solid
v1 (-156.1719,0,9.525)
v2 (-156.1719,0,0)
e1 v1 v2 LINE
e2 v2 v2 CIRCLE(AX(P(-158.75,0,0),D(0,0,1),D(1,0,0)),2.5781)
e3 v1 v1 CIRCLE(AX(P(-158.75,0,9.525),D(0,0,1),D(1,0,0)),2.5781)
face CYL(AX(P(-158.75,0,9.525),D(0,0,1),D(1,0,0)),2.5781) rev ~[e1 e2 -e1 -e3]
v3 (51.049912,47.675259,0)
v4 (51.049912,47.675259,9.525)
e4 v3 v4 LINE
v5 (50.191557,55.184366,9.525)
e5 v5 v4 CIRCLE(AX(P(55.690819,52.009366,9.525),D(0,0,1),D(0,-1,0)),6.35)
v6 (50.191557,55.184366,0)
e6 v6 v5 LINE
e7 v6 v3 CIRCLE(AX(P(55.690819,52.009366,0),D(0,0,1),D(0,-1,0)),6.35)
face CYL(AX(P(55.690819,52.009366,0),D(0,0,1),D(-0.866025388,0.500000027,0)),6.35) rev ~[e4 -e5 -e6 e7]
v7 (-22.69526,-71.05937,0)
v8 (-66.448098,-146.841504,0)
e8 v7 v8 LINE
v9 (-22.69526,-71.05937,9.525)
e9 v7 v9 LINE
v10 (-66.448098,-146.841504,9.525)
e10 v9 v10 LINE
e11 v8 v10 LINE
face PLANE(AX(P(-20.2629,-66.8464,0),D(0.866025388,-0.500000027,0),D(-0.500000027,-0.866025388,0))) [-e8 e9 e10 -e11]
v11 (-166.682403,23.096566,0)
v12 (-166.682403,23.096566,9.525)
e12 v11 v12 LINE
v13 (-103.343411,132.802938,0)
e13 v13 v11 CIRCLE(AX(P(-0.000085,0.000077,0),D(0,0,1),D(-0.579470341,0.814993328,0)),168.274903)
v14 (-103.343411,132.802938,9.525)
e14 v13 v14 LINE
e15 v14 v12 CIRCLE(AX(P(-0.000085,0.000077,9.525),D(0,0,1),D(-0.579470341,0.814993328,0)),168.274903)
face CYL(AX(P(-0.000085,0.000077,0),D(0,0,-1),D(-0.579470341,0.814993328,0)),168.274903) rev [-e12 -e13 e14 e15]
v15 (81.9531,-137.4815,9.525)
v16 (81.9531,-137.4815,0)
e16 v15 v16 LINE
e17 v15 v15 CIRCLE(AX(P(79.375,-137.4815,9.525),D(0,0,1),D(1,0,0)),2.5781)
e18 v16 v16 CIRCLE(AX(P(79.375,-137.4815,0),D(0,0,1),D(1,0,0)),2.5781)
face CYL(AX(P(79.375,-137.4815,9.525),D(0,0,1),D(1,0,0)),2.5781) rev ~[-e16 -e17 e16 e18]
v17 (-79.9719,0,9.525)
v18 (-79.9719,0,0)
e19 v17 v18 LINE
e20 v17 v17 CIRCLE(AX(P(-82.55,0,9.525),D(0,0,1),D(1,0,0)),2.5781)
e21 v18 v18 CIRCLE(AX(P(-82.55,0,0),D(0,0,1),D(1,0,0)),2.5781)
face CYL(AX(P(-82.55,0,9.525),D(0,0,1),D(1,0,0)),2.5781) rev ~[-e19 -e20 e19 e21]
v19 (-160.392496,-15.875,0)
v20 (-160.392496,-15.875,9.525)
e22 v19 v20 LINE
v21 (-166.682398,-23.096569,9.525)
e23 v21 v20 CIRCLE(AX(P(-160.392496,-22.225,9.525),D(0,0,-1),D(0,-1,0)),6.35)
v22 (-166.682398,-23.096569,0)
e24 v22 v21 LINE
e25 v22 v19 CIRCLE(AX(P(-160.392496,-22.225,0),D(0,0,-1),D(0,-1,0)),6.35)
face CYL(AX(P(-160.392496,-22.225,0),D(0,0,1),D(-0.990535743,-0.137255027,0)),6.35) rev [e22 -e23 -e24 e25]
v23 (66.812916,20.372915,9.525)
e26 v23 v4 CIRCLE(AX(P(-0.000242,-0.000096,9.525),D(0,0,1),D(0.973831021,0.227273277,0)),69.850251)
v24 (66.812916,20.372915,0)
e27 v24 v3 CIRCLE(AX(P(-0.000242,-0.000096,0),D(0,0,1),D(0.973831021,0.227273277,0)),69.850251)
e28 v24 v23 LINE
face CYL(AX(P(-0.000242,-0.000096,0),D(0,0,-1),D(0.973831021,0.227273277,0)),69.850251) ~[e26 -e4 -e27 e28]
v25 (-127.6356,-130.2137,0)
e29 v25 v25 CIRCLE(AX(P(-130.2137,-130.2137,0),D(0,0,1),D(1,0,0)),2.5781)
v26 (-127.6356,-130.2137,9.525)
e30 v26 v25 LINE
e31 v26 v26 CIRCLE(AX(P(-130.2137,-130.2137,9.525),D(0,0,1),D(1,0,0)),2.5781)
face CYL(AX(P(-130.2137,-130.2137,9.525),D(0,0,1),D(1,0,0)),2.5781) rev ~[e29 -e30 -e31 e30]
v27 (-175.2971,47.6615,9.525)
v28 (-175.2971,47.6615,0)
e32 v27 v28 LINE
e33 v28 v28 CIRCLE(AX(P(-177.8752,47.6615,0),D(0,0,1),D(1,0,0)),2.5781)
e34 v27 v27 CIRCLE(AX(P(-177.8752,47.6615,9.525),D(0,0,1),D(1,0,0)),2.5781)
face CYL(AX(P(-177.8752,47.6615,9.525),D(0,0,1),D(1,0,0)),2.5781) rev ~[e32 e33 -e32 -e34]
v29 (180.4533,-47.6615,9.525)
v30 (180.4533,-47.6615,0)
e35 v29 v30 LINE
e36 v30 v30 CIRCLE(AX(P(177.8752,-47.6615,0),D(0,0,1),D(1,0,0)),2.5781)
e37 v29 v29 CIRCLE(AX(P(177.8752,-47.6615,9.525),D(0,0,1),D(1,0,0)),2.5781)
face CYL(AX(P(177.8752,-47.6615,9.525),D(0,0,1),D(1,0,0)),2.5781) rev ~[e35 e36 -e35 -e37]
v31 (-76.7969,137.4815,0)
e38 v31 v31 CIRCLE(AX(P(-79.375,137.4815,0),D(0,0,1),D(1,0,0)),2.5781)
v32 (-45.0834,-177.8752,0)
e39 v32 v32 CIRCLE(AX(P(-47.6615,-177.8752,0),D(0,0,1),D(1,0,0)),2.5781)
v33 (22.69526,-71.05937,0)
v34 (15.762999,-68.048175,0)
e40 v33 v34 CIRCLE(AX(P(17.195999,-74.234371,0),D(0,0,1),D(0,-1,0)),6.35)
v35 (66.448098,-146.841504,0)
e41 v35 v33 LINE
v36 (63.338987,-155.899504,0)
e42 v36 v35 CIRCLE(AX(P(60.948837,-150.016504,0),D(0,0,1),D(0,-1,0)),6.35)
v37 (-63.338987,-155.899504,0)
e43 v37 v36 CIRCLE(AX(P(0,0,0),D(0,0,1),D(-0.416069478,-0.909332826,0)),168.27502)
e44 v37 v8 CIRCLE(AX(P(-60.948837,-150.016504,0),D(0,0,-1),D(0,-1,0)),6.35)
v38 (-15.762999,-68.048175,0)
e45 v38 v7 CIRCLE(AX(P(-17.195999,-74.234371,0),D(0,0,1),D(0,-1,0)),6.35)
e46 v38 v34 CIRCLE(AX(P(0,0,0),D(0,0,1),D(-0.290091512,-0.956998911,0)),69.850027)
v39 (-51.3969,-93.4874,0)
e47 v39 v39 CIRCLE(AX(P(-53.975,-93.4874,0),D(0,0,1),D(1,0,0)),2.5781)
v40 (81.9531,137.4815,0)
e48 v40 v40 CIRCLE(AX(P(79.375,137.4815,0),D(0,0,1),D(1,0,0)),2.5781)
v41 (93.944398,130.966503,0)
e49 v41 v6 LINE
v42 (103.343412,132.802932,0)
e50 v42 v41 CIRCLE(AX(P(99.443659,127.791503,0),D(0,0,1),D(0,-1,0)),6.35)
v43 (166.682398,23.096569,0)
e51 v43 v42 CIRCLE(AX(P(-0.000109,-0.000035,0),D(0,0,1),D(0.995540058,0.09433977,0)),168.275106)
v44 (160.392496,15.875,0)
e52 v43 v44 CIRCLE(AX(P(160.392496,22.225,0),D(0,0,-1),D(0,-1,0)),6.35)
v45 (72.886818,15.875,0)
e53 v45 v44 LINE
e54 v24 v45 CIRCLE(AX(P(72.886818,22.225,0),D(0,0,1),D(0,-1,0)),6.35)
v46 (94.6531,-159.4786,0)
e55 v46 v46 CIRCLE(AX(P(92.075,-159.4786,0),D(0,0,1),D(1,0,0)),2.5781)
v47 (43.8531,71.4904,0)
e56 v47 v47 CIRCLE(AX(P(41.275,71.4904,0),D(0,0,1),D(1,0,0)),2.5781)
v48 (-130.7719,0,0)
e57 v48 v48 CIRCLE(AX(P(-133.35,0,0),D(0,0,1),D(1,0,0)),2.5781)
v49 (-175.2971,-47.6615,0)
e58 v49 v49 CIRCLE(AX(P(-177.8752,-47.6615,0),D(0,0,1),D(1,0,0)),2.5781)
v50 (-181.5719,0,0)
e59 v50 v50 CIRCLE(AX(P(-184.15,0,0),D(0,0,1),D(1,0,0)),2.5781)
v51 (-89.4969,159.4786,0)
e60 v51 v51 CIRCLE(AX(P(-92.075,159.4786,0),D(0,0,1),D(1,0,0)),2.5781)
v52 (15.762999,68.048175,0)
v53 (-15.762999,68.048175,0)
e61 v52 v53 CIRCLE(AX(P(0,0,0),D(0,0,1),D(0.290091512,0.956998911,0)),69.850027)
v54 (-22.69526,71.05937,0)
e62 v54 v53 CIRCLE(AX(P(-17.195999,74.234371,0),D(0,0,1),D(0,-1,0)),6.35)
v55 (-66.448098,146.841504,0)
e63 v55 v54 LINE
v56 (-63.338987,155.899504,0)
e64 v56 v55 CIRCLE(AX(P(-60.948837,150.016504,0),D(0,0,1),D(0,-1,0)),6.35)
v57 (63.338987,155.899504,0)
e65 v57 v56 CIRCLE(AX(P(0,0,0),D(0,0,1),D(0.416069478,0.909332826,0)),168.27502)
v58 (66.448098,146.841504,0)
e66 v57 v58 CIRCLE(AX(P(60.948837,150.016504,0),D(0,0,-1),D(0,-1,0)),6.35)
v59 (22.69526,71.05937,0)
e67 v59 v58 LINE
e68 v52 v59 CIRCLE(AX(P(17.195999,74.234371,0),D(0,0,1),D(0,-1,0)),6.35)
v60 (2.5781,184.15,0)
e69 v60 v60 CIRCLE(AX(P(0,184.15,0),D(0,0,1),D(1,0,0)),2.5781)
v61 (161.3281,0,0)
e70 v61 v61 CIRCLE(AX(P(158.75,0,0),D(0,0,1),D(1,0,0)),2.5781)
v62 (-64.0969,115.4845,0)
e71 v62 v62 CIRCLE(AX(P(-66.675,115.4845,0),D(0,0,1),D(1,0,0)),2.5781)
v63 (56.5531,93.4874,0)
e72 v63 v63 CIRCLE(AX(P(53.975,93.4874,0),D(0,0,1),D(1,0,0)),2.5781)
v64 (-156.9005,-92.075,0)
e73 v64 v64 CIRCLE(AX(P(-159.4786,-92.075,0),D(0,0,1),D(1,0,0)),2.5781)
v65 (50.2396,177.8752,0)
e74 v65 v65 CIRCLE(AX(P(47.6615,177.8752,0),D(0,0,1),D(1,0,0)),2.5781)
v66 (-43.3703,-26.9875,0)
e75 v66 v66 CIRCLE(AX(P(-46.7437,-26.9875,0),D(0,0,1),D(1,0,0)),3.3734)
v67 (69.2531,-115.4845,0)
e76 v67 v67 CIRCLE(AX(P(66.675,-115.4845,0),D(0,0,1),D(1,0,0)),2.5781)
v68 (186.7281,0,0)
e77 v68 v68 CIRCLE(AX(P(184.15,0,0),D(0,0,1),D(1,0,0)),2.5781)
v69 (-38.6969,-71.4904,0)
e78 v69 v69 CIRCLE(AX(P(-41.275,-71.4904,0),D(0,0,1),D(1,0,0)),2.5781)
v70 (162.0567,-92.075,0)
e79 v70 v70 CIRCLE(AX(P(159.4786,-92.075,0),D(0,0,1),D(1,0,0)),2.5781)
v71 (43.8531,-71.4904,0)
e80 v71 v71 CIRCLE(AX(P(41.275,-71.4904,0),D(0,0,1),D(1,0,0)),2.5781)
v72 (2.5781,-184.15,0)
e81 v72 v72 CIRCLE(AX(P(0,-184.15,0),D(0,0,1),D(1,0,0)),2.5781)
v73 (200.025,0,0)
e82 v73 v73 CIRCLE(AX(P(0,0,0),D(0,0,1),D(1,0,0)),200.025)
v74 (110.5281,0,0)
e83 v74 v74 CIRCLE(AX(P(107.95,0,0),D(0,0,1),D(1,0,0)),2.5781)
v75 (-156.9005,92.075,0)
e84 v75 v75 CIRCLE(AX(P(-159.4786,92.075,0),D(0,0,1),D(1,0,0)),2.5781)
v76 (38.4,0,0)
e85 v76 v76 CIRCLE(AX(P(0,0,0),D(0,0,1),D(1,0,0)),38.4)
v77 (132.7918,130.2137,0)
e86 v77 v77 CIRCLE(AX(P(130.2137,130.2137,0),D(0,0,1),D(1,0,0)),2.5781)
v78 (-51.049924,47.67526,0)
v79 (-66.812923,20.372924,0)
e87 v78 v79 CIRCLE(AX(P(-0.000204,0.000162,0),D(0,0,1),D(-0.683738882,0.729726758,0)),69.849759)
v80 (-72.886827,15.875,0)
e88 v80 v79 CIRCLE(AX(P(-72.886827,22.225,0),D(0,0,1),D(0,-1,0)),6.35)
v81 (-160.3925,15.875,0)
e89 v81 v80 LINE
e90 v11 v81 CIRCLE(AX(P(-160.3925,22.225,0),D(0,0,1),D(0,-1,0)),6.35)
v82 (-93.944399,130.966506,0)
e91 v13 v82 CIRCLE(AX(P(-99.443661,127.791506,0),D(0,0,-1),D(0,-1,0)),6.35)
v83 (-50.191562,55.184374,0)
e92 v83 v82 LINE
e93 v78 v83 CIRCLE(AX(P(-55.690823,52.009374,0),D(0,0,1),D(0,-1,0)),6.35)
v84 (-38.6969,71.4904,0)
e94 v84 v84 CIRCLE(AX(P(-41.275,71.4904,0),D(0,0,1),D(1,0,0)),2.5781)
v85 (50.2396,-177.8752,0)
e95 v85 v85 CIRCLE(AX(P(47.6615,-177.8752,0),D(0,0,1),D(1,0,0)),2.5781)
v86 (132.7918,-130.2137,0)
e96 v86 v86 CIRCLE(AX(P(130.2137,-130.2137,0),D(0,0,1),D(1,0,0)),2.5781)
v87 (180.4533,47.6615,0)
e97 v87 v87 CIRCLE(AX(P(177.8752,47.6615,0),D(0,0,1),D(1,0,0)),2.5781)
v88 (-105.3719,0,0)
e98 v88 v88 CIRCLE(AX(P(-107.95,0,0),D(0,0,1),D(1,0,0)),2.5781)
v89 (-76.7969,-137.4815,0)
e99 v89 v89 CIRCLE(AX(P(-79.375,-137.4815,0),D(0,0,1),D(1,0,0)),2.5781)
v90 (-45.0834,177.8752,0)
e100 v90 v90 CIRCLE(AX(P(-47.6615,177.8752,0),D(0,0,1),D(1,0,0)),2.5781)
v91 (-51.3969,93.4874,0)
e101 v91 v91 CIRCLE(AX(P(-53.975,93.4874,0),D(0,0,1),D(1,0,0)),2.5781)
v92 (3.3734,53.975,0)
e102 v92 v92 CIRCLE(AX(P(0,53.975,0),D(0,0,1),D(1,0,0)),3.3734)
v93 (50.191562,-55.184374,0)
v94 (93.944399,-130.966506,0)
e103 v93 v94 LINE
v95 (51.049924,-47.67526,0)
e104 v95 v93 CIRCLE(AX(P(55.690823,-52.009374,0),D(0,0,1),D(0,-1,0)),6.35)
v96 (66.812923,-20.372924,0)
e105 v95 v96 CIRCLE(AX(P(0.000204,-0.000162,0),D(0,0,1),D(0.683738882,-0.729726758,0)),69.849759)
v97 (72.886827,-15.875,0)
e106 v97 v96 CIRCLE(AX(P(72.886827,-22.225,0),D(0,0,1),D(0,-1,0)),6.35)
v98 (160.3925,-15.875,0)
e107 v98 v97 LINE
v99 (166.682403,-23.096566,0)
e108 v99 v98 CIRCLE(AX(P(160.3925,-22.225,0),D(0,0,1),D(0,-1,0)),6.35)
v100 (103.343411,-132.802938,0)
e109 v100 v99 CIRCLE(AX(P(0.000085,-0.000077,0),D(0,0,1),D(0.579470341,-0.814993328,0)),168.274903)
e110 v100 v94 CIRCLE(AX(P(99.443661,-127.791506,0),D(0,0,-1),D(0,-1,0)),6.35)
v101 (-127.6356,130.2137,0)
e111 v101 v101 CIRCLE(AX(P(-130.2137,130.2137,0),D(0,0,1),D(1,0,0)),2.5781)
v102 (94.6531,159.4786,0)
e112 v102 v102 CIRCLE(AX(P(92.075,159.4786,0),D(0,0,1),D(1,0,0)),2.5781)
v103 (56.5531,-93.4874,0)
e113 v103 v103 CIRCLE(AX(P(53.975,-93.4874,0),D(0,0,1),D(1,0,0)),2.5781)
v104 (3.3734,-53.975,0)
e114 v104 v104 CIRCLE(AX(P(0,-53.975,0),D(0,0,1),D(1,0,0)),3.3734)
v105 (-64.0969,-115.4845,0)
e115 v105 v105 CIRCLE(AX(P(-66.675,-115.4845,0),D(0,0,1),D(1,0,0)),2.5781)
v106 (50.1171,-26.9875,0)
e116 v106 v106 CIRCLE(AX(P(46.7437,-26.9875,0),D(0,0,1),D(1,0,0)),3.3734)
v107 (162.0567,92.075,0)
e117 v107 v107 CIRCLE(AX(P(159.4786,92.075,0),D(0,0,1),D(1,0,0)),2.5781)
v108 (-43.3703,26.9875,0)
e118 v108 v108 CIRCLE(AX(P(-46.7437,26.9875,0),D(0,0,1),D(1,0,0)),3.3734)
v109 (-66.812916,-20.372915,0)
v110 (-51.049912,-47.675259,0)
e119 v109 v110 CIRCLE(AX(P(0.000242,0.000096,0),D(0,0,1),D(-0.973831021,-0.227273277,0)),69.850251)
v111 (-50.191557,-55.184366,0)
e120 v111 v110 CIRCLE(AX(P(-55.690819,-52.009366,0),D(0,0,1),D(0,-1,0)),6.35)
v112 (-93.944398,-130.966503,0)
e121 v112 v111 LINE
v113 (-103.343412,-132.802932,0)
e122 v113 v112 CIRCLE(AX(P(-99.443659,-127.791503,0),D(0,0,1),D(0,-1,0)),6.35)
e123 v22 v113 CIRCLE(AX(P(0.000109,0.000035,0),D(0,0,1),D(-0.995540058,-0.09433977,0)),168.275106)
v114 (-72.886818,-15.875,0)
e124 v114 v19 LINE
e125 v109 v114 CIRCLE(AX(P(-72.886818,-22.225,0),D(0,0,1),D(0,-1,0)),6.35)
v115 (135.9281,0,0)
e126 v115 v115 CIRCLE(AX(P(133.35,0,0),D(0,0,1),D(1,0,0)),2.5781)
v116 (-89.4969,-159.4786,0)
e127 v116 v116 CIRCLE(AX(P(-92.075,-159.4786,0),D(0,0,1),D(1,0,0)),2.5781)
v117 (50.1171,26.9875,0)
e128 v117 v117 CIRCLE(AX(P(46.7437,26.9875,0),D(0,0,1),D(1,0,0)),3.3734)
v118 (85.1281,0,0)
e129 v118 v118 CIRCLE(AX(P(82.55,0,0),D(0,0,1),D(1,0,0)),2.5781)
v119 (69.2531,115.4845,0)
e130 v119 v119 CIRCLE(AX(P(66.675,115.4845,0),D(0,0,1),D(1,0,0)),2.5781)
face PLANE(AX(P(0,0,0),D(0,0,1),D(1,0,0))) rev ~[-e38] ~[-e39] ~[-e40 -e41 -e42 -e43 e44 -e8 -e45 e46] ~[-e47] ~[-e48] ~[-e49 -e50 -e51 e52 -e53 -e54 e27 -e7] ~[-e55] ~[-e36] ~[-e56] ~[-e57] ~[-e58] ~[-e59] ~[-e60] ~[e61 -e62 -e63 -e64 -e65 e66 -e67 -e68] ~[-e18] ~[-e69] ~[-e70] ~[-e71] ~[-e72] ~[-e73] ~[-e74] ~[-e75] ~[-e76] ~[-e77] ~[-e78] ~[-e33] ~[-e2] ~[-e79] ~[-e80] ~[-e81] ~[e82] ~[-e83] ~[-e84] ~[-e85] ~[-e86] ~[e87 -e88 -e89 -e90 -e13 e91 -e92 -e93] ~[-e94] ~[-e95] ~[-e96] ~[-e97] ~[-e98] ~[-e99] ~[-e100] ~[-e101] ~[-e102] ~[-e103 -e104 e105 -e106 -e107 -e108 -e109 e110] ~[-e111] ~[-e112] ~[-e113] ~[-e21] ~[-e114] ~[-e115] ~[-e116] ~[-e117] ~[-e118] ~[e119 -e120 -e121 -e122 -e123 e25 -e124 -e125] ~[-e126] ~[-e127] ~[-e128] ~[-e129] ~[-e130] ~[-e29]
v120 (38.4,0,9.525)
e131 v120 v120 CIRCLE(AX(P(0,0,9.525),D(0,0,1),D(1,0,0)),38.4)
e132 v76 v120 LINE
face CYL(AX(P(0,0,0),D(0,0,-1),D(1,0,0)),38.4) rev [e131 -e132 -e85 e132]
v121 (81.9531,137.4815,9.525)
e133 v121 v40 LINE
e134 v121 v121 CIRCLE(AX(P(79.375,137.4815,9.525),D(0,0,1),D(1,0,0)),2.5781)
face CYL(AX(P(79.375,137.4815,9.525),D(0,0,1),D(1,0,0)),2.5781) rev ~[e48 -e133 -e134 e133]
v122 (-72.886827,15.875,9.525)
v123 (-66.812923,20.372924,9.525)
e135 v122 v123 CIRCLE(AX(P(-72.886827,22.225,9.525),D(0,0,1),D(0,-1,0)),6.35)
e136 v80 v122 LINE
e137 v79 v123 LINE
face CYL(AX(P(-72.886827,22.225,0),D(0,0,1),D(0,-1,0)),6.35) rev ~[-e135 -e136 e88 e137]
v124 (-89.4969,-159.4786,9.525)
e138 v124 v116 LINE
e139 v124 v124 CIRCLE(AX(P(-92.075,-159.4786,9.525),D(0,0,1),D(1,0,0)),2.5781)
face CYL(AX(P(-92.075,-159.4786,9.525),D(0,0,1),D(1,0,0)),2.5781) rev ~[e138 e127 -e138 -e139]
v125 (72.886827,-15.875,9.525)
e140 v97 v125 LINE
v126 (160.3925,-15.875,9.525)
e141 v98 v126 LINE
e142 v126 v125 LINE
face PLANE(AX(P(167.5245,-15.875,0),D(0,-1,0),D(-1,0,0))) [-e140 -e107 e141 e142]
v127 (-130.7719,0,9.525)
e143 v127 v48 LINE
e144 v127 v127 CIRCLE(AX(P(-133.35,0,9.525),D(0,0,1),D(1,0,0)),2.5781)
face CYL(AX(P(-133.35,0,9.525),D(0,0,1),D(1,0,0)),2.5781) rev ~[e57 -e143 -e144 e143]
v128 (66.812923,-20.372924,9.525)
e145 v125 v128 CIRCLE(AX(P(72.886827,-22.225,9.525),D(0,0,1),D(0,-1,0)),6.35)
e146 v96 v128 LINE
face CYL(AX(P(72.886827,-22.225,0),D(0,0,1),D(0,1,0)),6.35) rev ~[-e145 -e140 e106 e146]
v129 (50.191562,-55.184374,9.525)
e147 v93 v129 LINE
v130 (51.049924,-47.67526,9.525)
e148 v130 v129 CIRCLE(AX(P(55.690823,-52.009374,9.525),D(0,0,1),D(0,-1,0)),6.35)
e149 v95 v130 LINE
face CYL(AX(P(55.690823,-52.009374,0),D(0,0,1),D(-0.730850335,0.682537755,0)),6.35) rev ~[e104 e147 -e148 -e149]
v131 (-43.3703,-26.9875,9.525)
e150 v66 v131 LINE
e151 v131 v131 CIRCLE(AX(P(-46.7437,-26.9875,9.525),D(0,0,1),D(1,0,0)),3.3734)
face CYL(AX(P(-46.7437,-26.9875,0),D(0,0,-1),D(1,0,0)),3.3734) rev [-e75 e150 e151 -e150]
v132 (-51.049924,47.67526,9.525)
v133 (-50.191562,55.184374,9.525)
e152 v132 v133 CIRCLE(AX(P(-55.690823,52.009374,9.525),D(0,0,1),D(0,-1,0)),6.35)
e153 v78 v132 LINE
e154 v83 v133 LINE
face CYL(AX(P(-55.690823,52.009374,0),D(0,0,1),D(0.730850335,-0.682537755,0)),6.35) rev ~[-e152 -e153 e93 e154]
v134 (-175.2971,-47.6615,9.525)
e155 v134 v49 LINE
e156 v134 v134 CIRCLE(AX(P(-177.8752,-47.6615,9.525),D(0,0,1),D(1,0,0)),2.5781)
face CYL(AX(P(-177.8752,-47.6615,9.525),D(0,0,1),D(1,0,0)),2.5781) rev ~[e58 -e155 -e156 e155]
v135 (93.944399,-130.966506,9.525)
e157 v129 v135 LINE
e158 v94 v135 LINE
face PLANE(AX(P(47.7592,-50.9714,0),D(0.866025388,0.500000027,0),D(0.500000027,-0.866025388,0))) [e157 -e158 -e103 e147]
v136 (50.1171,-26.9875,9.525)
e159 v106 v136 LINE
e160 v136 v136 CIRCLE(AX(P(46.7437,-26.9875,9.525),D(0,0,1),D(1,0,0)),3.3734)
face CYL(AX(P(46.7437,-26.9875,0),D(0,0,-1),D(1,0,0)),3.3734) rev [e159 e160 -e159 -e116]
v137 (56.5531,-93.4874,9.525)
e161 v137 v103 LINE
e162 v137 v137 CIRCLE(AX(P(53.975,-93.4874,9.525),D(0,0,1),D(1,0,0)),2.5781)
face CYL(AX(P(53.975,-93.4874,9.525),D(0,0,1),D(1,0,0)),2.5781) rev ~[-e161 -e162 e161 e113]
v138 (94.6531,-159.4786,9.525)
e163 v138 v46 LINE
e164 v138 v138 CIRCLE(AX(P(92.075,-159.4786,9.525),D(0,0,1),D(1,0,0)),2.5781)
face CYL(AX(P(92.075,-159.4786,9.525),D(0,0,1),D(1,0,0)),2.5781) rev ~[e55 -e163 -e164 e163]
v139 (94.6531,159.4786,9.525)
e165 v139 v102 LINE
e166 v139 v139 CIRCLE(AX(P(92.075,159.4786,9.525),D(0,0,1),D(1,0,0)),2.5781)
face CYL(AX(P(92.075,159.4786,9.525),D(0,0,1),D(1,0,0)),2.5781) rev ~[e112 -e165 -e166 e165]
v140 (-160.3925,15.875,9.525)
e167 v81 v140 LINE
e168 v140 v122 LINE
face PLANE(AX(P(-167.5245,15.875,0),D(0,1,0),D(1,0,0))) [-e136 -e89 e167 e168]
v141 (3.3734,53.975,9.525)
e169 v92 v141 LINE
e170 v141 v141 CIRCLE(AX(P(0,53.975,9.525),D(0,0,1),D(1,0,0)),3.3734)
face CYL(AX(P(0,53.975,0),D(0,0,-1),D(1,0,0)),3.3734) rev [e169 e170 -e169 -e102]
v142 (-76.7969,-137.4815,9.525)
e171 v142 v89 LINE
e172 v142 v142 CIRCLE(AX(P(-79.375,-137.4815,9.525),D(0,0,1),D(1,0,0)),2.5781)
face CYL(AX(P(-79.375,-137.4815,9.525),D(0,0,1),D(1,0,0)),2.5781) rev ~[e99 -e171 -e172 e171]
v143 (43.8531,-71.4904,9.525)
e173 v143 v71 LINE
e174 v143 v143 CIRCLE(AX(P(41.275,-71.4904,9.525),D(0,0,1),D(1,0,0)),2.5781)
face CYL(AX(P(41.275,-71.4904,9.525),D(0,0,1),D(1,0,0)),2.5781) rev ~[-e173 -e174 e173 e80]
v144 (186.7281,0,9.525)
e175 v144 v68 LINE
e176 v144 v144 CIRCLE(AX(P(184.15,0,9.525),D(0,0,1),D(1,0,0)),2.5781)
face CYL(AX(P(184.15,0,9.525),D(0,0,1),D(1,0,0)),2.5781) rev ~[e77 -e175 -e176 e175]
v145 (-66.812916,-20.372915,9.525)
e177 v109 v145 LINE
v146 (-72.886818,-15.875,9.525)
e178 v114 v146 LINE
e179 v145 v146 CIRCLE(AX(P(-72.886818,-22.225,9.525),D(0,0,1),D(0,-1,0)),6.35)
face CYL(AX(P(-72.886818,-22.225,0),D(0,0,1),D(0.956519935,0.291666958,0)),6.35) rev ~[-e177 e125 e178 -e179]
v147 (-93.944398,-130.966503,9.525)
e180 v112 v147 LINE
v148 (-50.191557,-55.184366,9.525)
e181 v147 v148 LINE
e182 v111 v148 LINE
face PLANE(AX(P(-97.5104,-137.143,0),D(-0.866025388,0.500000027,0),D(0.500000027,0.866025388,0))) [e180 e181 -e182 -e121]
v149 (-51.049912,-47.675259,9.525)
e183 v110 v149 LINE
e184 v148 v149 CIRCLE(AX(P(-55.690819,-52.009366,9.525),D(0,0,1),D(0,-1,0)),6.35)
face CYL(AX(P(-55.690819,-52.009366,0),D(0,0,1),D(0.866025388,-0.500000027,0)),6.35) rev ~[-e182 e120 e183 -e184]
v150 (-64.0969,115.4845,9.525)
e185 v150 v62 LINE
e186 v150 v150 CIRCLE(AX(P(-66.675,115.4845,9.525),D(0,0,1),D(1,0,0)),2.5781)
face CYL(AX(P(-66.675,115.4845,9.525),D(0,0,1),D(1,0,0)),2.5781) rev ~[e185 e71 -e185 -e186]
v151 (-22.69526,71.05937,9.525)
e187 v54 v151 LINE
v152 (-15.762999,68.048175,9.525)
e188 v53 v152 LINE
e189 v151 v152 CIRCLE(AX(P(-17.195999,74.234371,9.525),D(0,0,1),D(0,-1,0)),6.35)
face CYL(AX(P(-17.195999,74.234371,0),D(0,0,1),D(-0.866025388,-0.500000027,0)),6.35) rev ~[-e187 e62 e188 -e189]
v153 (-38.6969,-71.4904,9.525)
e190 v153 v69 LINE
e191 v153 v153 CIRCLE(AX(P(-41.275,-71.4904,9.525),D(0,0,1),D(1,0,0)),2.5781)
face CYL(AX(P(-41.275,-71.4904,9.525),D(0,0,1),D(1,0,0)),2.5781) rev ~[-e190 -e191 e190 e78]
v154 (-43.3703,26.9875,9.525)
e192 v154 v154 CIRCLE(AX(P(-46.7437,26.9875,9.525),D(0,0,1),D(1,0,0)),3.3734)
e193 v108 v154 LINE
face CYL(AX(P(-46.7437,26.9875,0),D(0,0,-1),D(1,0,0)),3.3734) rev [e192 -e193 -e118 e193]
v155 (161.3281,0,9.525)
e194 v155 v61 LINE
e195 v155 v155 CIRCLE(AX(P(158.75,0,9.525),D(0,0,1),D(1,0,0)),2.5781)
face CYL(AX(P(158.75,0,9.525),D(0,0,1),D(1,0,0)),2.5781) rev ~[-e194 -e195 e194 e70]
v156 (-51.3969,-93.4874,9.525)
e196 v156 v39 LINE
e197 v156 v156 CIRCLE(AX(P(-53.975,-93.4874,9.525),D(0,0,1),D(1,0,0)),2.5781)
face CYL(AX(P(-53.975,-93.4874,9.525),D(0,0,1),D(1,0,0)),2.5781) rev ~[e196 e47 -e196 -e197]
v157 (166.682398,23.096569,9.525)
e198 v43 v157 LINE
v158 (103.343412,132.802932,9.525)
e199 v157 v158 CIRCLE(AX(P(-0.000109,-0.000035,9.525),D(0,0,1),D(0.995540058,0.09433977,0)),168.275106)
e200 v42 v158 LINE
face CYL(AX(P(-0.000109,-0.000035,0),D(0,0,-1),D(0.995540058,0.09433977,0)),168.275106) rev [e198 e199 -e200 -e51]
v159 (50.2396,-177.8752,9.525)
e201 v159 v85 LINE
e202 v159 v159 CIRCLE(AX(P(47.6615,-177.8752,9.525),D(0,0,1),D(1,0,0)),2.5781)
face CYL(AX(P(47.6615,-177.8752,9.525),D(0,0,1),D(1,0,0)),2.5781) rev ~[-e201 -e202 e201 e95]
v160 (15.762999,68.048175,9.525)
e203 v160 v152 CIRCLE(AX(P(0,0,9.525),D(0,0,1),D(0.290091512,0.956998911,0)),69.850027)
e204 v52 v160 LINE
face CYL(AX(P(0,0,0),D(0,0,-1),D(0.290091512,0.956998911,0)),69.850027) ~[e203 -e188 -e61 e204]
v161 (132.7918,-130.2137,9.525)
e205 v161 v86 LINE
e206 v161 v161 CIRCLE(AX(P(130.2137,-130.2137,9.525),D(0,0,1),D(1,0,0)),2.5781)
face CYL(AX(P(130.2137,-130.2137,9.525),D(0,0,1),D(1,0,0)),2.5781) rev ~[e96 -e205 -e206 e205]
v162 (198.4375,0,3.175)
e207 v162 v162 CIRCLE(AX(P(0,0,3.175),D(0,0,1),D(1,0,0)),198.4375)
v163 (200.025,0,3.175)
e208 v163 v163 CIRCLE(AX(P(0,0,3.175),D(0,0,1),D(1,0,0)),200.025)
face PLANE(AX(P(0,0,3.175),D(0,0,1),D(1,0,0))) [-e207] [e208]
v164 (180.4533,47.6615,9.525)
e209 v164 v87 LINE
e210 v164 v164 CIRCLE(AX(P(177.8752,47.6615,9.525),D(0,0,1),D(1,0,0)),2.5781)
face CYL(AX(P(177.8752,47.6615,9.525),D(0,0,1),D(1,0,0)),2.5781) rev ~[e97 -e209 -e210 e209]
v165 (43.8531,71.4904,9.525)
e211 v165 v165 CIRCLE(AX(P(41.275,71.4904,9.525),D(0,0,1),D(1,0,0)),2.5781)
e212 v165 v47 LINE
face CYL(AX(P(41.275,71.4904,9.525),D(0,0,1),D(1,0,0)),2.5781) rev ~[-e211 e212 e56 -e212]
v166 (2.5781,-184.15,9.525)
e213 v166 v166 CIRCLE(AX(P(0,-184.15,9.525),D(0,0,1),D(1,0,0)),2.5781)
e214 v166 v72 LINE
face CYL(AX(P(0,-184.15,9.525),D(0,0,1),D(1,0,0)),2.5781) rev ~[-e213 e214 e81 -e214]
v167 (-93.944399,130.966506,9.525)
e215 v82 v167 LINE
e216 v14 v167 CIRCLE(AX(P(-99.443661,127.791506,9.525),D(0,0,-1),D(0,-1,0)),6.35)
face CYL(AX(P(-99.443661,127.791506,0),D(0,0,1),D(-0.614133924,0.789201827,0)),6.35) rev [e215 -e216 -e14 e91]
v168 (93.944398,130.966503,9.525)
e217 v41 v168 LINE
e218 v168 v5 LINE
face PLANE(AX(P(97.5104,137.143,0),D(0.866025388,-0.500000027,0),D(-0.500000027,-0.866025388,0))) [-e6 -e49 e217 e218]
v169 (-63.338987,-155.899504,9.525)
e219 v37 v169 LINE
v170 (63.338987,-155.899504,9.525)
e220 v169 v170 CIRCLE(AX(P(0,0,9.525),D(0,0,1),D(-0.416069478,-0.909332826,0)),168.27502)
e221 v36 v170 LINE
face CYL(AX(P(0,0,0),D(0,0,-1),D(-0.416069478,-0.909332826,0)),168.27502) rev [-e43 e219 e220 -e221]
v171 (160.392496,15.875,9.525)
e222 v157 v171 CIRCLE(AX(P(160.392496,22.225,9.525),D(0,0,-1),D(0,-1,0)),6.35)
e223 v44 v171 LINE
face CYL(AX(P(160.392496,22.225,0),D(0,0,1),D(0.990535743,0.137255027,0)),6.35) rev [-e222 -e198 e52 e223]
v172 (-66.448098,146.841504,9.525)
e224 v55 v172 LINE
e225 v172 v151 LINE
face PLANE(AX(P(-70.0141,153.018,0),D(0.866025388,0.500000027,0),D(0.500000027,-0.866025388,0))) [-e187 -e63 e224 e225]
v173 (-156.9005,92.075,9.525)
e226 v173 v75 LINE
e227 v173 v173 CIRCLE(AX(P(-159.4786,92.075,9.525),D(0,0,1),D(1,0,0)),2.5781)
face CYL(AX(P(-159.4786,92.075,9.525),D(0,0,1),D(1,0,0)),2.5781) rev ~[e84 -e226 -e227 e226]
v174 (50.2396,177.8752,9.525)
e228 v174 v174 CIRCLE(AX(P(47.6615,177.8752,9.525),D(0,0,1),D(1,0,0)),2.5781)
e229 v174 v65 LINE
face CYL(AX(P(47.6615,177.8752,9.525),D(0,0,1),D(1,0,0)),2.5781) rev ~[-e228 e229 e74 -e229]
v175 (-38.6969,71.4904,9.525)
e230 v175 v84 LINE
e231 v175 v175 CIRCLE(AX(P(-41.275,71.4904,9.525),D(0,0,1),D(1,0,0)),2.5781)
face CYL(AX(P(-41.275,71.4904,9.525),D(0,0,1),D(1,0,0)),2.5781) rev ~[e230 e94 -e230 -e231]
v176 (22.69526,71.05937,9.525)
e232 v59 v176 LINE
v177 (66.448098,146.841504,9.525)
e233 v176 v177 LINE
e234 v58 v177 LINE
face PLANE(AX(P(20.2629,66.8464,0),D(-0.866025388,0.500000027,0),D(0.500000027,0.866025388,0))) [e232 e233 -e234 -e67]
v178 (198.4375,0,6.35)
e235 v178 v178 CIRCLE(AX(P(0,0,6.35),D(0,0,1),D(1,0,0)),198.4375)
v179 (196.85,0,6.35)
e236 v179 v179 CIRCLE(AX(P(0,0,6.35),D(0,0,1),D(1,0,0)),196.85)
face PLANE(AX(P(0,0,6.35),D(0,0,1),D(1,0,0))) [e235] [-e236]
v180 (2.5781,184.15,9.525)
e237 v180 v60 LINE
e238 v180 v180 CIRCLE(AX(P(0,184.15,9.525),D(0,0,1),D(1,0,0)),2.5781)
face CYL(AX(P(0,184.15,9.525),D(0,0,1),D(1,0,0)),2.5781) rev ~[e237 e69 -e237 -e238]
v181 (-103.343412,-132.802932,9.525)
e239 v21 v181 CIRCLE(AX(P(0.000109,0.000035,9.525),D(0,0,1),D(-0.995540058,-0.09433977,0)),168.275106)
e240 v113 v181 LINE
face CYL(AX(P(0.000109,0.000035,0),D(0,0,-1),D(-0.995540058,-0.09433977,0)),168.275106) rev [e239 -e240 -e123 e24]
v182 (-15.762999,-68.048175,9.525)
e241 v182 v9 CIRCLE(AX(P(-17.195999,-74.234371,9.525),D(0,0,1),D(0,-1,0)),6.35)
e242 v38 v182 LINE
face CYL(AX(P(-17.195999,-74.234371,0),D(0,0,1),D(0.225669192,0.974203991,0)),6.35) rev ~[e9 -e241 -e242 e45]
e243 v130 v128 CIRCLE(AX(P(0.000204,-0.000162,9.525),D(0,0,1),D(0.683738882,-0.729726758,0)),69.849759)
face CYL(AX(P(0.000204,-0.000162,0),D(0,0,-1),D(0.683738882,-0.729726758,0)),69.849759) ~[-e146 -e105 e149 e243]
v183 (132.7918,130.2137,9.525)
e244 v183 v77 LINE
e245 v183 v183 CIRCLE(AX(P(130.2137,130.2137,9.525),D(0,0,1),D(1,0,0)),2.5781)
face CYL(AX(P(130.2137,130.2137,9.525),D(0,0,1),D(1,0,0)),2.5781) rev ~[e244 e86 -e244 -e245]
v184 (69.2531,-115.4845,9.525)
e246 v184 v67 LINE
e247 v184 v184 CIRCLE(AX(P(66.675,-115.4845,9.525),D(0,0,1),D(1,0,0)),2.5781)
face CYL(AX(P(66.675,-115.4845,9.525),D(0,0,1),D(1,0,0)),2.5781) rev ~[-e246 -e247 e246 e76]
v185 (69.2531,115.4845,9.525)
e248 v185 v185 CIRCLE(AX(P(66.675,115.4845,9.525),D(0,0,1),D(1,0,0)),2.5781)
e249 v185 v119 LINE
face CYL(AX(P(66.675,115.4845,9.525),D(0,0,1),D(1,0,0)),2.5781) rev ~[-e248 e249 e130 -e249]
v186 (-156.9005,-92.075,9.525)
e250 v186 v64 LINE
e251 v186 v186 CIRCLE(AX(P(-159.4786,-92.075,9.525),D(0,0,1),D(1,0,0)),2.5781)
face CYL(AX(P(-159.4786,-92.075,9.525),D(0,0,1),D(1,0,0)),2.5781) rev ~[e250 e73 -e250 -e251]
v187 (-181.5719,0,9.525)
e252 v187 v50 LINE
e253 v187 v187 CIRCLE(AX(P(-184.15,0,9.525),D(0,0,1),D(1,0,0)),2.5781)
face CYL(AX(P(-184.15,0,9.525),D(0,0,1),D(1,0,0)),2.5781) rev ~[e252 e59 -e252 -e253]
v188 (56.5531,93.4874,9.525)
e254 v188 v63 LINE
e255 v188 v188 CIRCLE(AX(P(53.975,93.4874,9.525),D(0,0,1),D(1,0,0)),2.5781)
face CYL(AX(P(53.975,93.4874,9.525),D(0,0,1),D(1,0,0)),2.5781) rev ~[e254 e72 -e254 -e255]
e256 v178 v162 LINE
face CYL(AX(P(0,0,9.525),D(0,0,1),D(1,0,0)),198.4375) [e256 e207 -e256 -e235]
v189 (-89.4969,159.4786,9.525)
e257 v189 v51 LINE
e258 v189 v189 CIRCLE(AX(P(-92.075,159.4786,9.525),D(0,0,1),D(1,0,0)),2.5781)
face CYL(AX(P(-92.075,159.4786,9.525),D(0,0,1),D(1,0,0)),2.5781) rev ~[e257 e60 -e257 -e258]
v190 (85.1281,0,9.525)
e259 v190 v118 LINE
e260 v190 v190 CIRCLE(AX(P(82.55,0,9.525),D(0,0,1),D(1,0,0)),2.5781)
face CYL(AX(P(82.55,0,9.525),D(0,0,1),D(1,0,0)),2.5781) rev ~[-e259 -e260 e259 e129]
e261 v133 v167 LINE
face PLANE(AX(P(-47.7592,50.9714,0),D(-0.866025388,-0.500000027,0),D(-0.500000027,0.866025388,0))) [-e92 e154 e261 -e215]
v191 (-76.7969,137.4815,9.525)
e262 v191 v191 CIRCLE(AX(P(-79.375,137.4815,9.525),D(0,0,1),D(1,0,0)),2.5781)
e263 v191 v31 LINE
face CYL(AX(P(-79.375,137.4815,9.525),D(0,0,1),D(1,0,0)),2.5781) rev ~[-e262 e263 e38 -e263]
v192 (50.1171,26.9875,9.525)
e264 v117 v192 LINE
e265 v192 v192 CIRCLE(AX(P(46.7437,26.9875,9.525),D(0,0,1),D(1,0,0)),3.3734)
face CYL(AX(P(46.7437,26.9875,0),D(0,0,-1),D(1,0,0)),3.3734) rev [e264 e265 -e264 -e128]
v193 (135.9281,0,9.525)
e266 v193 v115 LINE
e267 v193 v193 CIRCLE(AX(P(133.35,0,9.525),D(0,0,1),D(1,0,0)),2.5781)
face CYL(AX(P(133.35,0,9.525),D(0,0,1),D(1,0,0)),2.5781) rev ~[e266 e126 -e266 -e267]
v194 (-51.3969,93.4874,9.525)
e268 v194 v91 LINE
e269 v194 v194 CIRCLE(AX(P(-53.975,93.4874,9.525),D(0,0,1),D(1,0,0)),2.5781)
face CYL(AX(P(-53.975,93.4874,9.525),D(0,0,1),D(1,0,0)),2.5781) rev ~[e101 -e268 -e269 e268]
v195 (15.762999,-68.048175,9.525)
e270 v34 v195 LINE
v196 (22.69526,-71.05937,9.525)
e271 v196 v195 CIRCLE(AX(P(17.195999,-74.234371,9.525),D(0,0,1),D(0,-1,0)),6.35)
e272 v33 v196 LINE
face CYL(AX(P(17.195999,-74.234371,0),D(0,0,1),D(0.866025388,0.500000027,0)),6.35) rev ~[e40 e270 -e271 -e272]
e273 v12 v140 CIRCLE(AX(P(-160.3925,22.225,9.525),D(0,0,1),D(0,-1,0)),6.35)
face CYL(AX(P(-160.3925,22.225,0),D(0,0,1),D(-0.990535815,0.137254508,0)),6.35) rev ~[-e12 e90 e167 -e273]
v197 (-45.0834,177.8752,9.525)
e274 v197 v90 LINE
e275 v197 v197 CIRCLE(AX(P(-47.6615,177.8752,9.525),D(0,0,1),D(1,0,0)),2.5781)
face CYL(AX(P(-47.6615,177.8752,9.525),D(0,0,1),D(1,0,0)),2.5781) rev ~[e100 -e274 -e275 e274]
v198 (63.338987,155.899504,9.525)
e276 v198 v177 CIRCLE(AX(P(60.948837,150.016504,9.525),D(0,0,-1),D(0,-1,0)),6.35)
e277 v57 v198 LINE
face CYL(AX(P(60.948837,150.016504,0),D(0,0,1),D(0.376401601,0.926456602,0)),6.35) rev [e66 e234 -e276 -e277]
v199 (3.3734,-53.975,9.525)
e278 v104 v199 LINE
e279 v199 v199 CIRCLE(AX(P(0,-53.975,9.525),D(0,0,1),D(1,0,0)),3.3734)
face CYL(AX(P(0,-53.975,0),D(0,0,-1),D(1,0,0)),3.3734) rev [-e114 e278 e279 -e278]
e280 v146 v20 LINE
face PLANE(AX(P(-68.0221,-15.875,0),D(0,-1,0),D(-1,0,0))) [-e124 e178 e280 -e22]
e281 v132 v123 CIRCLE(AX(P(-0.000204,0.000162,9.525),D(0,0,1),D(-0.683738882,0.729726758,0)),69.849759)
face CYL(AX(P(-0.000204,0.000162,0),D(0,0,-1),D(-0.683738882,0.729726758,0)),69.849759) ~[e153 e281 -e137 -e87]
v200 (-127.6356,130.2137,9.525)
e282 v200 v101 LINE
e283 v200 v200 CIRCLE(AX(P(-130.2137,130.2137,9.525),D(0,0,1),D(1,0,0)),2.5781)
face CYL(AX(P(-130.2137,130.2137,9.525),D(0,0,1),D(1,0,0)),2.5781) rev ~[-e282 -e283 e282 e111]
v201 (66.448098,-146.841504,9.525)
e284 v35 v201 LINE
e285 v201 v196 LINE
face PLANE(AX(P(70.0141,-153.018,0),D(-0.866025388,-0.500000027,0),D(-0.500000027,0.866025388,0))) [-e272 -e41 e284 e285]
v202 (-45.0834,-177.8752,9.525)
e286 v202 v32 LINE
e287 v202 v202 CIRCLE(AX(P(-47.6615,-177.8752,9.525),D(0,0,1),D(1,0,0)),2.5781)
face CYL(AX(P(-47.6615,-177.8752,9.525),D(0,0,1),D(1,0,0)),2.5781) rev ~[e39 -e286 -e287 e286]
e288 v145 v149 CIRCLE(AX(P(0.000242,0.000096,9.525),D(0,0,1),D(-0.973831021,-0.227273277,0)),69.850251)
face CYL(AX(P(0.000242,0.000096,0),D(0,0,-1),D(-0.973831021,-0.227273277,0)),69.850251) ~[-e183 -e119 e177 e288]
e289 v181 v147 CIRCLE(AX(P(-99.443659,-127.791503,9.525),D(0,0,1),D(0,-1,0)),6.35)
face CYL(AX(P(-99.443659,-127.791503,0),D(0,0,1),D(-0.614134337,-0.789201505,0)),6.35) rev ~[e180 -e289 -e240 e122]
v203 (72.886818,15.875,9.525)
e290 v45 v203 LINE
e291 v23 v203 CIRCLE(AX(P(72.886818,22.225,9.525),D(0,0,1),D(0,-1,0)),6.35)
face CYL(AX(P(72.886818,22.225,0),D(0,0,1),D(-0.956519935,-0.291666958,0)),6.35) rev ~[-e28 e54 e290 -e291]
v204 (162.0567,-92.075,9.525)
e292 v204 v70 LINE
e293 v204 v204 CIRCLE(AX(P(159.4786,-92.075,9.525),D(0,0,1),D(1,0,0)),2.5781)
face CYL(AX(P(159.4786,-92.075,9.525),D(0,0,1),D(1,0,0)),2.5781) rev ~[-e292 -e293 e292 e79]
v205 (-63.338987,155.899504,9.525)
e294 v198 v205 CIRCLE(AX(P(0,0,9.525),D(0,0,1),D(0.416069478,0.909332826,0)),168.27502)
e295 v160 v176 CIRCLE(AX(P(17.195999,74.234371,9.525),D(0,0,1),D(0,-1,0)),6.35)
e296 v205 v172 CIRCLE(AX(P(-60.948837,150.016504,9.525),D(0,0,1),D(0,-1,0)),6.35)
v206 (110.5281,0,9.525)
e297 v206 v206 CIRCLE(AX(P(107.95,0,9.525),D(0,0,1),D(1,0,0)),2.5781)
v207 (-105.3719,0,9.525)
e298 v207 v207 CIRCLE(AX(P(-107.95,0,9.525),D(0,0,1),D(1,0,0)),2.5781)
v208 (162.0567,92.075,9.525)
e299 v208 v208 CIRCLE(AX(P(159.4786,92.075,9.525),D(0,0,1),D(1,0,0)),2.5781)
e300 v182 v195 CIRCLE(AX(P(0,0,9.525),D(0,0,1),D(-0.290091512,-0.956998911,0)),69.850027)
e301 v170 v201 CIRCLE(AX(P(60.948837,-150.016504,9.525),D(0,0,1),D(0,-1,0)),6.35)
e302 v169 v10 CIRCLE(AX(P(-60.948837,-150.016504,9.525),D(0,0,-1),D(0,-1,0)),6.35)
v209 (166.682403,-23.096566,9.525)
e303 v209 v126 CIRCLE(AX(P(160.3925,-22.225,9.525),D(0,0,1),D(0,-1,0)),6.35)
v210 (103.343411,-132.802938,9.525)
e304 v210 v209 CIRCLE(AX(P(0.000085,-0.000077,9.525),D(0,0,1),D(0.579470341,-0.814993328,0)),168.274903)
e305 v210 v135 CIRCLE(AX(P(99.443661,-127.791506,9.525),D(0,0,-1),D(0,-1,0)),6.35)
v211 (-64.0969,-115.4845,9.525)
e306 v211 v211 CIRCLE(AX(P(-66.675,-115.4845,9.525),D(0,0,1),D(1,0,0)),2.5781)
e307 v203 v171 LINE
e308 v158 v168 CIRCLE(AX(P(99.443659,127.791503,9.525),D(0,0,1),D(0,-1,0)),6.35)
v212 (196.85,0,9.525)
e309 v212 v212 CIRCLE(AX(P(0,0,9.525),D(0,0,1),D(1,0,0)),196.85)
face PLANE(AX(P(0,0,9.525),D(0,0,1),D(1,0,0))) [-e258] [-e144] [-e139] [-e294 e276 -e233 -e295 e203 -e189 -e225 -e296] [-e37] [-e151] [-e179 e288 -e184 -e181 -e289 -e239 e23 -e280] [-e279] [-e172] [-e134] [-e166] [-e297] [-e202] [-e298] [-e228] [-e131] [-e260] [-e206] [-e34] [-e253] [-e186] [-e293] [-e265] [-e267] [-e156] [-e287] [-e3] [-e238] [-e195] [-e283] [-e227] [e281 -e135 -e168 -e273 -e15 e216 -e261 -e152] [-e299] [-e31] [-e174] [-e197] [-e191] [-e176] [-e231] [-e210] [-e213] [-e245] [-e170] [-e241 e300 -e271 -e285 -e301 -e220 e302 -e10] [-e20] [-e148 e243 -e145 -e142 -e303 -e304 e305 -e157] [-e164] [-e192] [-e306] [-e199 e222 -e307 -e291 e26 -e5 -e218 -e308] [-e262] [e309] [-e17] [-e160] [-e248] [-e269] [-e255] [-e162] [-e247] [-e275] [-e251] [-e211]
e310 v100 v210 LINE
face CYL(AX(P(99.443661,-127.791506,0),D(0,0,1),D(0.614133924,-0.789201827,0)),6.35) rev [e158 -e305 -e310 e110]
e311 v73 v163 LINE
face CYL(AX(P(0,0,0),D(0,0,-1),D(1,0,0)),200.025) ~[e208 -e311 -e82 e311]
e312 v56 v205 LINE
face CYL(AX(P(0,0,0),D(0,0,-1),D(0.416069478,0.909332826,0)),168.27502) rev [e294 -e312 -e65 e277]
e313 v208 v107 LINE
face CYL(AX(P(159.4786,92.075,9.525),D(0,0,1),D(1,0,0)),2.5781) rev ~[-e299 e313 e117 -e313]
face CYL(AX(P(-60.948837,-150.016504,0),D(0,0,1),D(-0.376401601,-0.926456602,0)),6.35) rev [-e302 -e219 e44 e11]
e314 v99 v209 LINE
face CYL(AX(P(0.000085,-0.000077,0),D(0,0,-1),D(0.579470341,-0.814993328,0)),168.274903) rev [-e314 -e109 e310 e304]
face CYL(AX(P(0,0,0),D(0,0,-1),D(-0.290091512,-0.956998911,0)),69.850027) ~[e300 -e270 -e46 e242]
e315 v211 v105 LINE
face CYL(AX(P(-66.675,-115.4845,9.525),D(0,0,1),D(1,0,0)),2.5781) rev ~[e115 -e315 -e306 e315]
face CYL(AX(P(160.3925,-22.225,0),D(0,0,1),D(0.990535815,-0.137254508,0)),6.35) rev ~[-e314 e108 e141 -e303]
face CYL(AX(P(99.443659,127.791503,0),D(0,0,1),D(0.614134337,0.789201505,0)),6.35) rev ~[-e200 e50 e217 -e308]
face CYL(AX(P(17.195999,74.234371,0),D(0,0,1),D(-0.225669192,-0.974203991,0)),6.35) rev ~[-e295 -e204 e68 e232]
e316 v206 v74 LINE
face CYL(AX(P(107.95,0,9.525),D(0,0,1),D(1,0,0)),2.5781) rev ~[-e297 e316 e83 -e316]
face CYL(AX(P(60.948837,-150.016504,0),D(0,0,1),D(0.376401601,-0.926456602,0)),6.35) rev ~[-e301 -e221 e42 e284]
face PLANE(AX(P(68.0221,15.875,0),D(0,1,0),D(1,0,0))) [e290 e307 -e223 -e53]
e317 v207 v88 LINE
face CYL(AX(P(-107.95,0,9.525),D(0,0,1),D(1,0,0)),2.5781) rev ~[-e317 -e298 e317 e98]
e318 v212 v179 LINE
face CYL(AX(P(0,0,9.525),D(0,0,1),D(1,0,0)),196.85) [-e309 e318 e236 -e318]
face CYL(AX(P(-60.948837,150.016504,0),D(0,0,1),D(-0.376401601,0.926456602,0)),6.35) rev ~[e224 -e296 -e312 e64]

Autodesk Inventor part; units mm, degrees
ref_plane "YZ Plane" through (0, 0, 0) normal (1, 0, 0) x (0, 1, 0)
ref_plane "XZ Plane" through (0, 0, 0) normal (0, 1, 0) x (-1, 0, 0)
ref_plane "XY Plane" through (0, 0, 0) normal (0, 0, 1) x (1, 0, 0)
sketch "Sketch1" plane through (0, 0, 0) normal (0, 0, 1) x (1, 0, 0)
  circle A0 centre (0, 0) radius 200.025
  circle A1 centre (0, 0) radius 38.4
  circle A2 centre (0, 53.975) radius 3.3734
  circle A3 centre (-46.7437, 26.9875) radius 3.3734
  circle A4 centre (-46.7437, -26.9875) radius 3.3734
  circle A5 centre (0, -53.975) radius 3.3734
  circle A6 centre (46.7437, -26.9875) radius 3.3734
  circle A7 centre (46.7437, 26.9875) radius 3.3734
  arc A8 (70.0141, 153.018) -> (-70.0141, 153.018) centre (0, 0) ccw
  line L0 (-70.0141, 153.018) -> (-20.2629, 66.8464)
  arc A9 (20.2629, 66.8464) -> (-20.2629, 66.8464) centre (0, 0) ccw
  line L1 (20.2629, 66.8464) -> (70.0141, 153.018)
  line L2 (0, 168.275) -> (0, 69.85) construction
  arc A10 (-97.5104, 137.143) -> (-167.5245, 15.875) centre (0, 0) ccw
  line L3 (-167.5245, 15.875) -> (-68.0221, 15.875)
  arc A11 (-47.7592, 50.9714) -> (-68.0221, 15.875) centre (0, 0) ccw
  line L4 (-47.7592, 50.9714) -> (-97.5104, 137.143)
  arc A12 (-167.5245, -15.875) -> (-97.5104, -137.143) centre (0, 0) ccw
  line L5 (-97.5104, -137.143) -> (-47.7592, -50.9714)
  arc A13 (-68.0221, -15.875) -> (-47.7592, -50.9714) centre (0, 0) ccw
  line L6 (-68.0221, -15.875) -> (-167.5245, -15.875)
  arc A14 (-70.0141, -153.018) -> (70.0141, -153.018) centre (0, 0) ccw
  line L7 (70.0141, -153.018) -> (20.2629, -66.8464)
  arc A15 (-20.2629, -66.8464) -> (20.2629, -66.8464) centre (0, 0) ccw
  line L8 (-20.2629, -66.8464) -> (-70.0141, -153.018)
  arc A16 (97.5104, -137.143) -> (167.5245, -15.875) centre (0, 0) ccw
  line L9 (167.5245, -15.875) -> (68.0221, -15.875)
  arc A17 (47.7592, -50.9714) -> (68.0221, -15.875) centre (0, 0) ccw
  line L10 (47.7592, -50.9714) -> (97.5104, -137.143)
  arc A18 (167.5245, 15.875) -> (97.5104, 137.143) centre (0, 0) ccw
  line L11 (97.5104, 137.143) -> (47.7592, 50.9714)
  arc A19 (68.0221, 15.875) -> (47.7592, 50.9714) centre (0, 0) ccw
  line L12 (68.0221, 15.875) -> (167.5245, 15.875)
  point P0 (-145.7304, 84.1375)
  point P1 (-60.4919, 34.925)
  point P2 (-145.7304, -84.1375)
  point P3 (-60.4919, -34.925)
  point P4 (0, -168.275)
  point P5 (0, -69.85)
  point P6 (145.7304, -84.1375)
  point P7 (60.4919, -34.925)
  point P8 (145.7304, 84.1375)
  point P9 (60.4919, 34.925)
  dimension "d0" = 400.05
  dimension "d1" = 76.8
  dimension "d2" = 53.975
  dimension "d3" = 6.7469
  dimension "d6" = 360
  dimension "d8" = 168.275
  dimension "d9" = 69.85
  dimension "d12" = 360
  dimension "d14" = 31.75
extrude "Extrusion1" add sketch "Sketch1" along normal blind 9.525
fillet "Fillet1" radius 6.35 24 edges at (-167.5245, 15.875, 4.7625) (-70.0141, 153.018, 4.7625) (97.5104, 137.143, 4.7625) (167.5245, -15.875, 4.7625) (70.0141, -153.018, 4.7625) (-97.5104, -137.143, 4.7625) (-167.5245, -15.875, 4.7625) (-97.5104, 137.143, 4.7625) (70.0141, 153.018, 4.7625) (167.5245, 15.875, 4.7625) (97.5104, -137.143, 4.7625) (-70.0141, -153.018, 4.7625) (-68.0221, -15.875, 4.7625) (-47.7592, -50.9714, 4.7625) (-20.2629, -66.8464, 4.7625) (20.2629, -66.8464, 4.7625) (47.7592, -50.9714, 4.7625) (68.0221, -15.875, 4.7625) (68.0221, 15.875, 4.7625) (47.7592, 50.9714, 4.7625) (20.2629, 66.8464, 4.7625) (-20.2629, 66.8464, 4.7625) (-47.7592, 50.9714, 4.7625) (-68.0221, 15.875, 4.7625)
sketch "Sketch2" plane through (0, 0, 9.525) normal (0, 0, 1) x (1, 0, 0)
  circle A0 centre (0, 0) radius 198.4375
  circle A1 centre (0, 0) radius 200.025 projected
  dimension "d18" = 1.5875
extrude "Extrusion2" cut sketch "Sketch2" against normal blind 6.35
sketch "Sketch3" plane through (0, 0, 9.525) normal (0, 0, 1) x (1, 0, 0)
  circle A0 centre (0, 0) radius 196.85
  circle A1 centre (0, 0) radius 198.4375 projected
  dimension "d21" = 1.5875
extrude "Extrusion3" cut sketch "Sketch3" against normal blind 3.175
sketch "Sketch5" plane through (0, 0, 9.525) normal (0, 0, 1) x (1, 0, 0)
  circle A0 centre (-184.15, 0) radius 2.5781
  line L0 (-72.8868, 15.875) -> (-160.3925, 15.875) projected
  circle A1 centre (-158.75, 0) radius 2.5781
  circle A2 centre (-133.35, 0) radius 2.5781
  circle A3 centre (-107.95, 0) radius 2.5781
  circle A4 centre (-82.55, 0) radius 2.5781
  circle A5 centre (-79.375, -137.4815) radius 2.5781
  circle A6 centre (-66.675, -115.4845) radius 2.5781
  circle A7 centre (-53.975, -93.4874) radius 2.5781
  circle A8 centre (-41.275, -71.4904) radius 2.5781
  circle A9 centre (79.375, -137.4815) radius 2.5781
  circle A10 centre (66.675, -115.4845) radius 2.5781
  circle A11 centre (53.975, -93.4874) radius 2.5781
  circle A12 centre (41.275, -71.4904) radius 2.5781
  circle A13 centre (158.75, 0) radius 2.5781
  circle A14 centre (133.35, 0) radius 2.5781
  circle A15 centre (107.95, 0) radius 2.5781
  circle A16 centre (82.55, 0) radius 2.5781
  circle A17 centre (79.375, 137.4815) radius 2.5781
  circle A18 centre (66.675, 115.4845) radius 2.5781
  circle A19 centre (53.975, 93.4874) radius 2.5781
  circle A20 centre (41.275, 71.4904) radius 2.5781
  circle A21 centre (-79.375, 137.4815) radius 2.5781
  circle A22 centre (-66.675, 115.4845) radius 2.5781
  circle A23 centre (-53.975, 93.4874) radius 2.5781
  circle A24 centre (-41.275, 71.4904) radius 2.5781
  circle A25 centre (-177.8752, 47.6615) radius 2.5781
  circle A26 centre (-159.4786, 92.075) radius 2.5781
  circle A27 centre (-130.2137, 130.2137) radius 2.5781
  circle A28 centre (-92.075, 159.4786) radius 2.5781
  circle A29 centre (-47.6615, 177.8752) radius 2.5781
  circle A30 centre (0, 184.15) radius 2.5781
  circle A31 centre (47.6615, 177.8752) radius 2.5781
  circle A32 centre (92.075, 159.4786) radius 2.5781
  circle A33 centre (130.2137, 130.2137) radius 2.5781
  circle A34 centre (159.4786, 92.075) radius 2.5781
  circle A35 centre (177.8752, 47.6615) radius 2.5781
  circle A36 centre (184.15, 0) radius 2.5781
  circle A37 centre (177.8752, -47.6615) radius 2.5781
  circle A38 centre (159.4786, -92.075) radius 2.5781
  circle A39 centre (130.2137, -130.2137) radius 2.5781
  circle A40 centre (92.075, -159.4786) radius 2.5781
  circle A41 centre (47.6615, -177.8752) radius 2.5781
  circle A42 centre (0, -184.15) radius 2.5781
  circle A43 centre (-47.6615, -177.8752) radius 2.5781
  circle A44 centre (-92.075, -159.4786) radius 2.5781
  circle A45 centre (-130.2137, -130.2137) radius 2.5781
  circle A46 centre (-159.4786, -92.075) radius 2.5781
  circle A47 centre (-177.8752, -47.6615) radius 2.5781
  point P0 (0, 0)
  dimension "d24" = 5.1562
  dimension "d25" = 184.15
  dimension "d28" = 25.4
  dimension "d35" = 360
  dimension "d39" = 360
extrude "Extrusion4" cut sketch "Sketch5" against normal through all
equation "\"d2\" = 0.5 * InnerWheelDiameter + 0.5 * WebThick"
equation "\"d8\" = 0.5 * d0 - WebThick"
equation "\"d9\" = 0.5 * InnerWheelDiameter + WebThick"
equation "\"d14\" = WebThick"
equation "\"d19\" = 0.666667 * d15"
equation "\"d22\" = 0.333333 * d15"
equation "\"InnerWheelDiameter\" = 76.2"
equation "\"WebThick\" = 31.75"
equation "\"d15\" = 9.525"
properties part number "IndexerWheelV2"
